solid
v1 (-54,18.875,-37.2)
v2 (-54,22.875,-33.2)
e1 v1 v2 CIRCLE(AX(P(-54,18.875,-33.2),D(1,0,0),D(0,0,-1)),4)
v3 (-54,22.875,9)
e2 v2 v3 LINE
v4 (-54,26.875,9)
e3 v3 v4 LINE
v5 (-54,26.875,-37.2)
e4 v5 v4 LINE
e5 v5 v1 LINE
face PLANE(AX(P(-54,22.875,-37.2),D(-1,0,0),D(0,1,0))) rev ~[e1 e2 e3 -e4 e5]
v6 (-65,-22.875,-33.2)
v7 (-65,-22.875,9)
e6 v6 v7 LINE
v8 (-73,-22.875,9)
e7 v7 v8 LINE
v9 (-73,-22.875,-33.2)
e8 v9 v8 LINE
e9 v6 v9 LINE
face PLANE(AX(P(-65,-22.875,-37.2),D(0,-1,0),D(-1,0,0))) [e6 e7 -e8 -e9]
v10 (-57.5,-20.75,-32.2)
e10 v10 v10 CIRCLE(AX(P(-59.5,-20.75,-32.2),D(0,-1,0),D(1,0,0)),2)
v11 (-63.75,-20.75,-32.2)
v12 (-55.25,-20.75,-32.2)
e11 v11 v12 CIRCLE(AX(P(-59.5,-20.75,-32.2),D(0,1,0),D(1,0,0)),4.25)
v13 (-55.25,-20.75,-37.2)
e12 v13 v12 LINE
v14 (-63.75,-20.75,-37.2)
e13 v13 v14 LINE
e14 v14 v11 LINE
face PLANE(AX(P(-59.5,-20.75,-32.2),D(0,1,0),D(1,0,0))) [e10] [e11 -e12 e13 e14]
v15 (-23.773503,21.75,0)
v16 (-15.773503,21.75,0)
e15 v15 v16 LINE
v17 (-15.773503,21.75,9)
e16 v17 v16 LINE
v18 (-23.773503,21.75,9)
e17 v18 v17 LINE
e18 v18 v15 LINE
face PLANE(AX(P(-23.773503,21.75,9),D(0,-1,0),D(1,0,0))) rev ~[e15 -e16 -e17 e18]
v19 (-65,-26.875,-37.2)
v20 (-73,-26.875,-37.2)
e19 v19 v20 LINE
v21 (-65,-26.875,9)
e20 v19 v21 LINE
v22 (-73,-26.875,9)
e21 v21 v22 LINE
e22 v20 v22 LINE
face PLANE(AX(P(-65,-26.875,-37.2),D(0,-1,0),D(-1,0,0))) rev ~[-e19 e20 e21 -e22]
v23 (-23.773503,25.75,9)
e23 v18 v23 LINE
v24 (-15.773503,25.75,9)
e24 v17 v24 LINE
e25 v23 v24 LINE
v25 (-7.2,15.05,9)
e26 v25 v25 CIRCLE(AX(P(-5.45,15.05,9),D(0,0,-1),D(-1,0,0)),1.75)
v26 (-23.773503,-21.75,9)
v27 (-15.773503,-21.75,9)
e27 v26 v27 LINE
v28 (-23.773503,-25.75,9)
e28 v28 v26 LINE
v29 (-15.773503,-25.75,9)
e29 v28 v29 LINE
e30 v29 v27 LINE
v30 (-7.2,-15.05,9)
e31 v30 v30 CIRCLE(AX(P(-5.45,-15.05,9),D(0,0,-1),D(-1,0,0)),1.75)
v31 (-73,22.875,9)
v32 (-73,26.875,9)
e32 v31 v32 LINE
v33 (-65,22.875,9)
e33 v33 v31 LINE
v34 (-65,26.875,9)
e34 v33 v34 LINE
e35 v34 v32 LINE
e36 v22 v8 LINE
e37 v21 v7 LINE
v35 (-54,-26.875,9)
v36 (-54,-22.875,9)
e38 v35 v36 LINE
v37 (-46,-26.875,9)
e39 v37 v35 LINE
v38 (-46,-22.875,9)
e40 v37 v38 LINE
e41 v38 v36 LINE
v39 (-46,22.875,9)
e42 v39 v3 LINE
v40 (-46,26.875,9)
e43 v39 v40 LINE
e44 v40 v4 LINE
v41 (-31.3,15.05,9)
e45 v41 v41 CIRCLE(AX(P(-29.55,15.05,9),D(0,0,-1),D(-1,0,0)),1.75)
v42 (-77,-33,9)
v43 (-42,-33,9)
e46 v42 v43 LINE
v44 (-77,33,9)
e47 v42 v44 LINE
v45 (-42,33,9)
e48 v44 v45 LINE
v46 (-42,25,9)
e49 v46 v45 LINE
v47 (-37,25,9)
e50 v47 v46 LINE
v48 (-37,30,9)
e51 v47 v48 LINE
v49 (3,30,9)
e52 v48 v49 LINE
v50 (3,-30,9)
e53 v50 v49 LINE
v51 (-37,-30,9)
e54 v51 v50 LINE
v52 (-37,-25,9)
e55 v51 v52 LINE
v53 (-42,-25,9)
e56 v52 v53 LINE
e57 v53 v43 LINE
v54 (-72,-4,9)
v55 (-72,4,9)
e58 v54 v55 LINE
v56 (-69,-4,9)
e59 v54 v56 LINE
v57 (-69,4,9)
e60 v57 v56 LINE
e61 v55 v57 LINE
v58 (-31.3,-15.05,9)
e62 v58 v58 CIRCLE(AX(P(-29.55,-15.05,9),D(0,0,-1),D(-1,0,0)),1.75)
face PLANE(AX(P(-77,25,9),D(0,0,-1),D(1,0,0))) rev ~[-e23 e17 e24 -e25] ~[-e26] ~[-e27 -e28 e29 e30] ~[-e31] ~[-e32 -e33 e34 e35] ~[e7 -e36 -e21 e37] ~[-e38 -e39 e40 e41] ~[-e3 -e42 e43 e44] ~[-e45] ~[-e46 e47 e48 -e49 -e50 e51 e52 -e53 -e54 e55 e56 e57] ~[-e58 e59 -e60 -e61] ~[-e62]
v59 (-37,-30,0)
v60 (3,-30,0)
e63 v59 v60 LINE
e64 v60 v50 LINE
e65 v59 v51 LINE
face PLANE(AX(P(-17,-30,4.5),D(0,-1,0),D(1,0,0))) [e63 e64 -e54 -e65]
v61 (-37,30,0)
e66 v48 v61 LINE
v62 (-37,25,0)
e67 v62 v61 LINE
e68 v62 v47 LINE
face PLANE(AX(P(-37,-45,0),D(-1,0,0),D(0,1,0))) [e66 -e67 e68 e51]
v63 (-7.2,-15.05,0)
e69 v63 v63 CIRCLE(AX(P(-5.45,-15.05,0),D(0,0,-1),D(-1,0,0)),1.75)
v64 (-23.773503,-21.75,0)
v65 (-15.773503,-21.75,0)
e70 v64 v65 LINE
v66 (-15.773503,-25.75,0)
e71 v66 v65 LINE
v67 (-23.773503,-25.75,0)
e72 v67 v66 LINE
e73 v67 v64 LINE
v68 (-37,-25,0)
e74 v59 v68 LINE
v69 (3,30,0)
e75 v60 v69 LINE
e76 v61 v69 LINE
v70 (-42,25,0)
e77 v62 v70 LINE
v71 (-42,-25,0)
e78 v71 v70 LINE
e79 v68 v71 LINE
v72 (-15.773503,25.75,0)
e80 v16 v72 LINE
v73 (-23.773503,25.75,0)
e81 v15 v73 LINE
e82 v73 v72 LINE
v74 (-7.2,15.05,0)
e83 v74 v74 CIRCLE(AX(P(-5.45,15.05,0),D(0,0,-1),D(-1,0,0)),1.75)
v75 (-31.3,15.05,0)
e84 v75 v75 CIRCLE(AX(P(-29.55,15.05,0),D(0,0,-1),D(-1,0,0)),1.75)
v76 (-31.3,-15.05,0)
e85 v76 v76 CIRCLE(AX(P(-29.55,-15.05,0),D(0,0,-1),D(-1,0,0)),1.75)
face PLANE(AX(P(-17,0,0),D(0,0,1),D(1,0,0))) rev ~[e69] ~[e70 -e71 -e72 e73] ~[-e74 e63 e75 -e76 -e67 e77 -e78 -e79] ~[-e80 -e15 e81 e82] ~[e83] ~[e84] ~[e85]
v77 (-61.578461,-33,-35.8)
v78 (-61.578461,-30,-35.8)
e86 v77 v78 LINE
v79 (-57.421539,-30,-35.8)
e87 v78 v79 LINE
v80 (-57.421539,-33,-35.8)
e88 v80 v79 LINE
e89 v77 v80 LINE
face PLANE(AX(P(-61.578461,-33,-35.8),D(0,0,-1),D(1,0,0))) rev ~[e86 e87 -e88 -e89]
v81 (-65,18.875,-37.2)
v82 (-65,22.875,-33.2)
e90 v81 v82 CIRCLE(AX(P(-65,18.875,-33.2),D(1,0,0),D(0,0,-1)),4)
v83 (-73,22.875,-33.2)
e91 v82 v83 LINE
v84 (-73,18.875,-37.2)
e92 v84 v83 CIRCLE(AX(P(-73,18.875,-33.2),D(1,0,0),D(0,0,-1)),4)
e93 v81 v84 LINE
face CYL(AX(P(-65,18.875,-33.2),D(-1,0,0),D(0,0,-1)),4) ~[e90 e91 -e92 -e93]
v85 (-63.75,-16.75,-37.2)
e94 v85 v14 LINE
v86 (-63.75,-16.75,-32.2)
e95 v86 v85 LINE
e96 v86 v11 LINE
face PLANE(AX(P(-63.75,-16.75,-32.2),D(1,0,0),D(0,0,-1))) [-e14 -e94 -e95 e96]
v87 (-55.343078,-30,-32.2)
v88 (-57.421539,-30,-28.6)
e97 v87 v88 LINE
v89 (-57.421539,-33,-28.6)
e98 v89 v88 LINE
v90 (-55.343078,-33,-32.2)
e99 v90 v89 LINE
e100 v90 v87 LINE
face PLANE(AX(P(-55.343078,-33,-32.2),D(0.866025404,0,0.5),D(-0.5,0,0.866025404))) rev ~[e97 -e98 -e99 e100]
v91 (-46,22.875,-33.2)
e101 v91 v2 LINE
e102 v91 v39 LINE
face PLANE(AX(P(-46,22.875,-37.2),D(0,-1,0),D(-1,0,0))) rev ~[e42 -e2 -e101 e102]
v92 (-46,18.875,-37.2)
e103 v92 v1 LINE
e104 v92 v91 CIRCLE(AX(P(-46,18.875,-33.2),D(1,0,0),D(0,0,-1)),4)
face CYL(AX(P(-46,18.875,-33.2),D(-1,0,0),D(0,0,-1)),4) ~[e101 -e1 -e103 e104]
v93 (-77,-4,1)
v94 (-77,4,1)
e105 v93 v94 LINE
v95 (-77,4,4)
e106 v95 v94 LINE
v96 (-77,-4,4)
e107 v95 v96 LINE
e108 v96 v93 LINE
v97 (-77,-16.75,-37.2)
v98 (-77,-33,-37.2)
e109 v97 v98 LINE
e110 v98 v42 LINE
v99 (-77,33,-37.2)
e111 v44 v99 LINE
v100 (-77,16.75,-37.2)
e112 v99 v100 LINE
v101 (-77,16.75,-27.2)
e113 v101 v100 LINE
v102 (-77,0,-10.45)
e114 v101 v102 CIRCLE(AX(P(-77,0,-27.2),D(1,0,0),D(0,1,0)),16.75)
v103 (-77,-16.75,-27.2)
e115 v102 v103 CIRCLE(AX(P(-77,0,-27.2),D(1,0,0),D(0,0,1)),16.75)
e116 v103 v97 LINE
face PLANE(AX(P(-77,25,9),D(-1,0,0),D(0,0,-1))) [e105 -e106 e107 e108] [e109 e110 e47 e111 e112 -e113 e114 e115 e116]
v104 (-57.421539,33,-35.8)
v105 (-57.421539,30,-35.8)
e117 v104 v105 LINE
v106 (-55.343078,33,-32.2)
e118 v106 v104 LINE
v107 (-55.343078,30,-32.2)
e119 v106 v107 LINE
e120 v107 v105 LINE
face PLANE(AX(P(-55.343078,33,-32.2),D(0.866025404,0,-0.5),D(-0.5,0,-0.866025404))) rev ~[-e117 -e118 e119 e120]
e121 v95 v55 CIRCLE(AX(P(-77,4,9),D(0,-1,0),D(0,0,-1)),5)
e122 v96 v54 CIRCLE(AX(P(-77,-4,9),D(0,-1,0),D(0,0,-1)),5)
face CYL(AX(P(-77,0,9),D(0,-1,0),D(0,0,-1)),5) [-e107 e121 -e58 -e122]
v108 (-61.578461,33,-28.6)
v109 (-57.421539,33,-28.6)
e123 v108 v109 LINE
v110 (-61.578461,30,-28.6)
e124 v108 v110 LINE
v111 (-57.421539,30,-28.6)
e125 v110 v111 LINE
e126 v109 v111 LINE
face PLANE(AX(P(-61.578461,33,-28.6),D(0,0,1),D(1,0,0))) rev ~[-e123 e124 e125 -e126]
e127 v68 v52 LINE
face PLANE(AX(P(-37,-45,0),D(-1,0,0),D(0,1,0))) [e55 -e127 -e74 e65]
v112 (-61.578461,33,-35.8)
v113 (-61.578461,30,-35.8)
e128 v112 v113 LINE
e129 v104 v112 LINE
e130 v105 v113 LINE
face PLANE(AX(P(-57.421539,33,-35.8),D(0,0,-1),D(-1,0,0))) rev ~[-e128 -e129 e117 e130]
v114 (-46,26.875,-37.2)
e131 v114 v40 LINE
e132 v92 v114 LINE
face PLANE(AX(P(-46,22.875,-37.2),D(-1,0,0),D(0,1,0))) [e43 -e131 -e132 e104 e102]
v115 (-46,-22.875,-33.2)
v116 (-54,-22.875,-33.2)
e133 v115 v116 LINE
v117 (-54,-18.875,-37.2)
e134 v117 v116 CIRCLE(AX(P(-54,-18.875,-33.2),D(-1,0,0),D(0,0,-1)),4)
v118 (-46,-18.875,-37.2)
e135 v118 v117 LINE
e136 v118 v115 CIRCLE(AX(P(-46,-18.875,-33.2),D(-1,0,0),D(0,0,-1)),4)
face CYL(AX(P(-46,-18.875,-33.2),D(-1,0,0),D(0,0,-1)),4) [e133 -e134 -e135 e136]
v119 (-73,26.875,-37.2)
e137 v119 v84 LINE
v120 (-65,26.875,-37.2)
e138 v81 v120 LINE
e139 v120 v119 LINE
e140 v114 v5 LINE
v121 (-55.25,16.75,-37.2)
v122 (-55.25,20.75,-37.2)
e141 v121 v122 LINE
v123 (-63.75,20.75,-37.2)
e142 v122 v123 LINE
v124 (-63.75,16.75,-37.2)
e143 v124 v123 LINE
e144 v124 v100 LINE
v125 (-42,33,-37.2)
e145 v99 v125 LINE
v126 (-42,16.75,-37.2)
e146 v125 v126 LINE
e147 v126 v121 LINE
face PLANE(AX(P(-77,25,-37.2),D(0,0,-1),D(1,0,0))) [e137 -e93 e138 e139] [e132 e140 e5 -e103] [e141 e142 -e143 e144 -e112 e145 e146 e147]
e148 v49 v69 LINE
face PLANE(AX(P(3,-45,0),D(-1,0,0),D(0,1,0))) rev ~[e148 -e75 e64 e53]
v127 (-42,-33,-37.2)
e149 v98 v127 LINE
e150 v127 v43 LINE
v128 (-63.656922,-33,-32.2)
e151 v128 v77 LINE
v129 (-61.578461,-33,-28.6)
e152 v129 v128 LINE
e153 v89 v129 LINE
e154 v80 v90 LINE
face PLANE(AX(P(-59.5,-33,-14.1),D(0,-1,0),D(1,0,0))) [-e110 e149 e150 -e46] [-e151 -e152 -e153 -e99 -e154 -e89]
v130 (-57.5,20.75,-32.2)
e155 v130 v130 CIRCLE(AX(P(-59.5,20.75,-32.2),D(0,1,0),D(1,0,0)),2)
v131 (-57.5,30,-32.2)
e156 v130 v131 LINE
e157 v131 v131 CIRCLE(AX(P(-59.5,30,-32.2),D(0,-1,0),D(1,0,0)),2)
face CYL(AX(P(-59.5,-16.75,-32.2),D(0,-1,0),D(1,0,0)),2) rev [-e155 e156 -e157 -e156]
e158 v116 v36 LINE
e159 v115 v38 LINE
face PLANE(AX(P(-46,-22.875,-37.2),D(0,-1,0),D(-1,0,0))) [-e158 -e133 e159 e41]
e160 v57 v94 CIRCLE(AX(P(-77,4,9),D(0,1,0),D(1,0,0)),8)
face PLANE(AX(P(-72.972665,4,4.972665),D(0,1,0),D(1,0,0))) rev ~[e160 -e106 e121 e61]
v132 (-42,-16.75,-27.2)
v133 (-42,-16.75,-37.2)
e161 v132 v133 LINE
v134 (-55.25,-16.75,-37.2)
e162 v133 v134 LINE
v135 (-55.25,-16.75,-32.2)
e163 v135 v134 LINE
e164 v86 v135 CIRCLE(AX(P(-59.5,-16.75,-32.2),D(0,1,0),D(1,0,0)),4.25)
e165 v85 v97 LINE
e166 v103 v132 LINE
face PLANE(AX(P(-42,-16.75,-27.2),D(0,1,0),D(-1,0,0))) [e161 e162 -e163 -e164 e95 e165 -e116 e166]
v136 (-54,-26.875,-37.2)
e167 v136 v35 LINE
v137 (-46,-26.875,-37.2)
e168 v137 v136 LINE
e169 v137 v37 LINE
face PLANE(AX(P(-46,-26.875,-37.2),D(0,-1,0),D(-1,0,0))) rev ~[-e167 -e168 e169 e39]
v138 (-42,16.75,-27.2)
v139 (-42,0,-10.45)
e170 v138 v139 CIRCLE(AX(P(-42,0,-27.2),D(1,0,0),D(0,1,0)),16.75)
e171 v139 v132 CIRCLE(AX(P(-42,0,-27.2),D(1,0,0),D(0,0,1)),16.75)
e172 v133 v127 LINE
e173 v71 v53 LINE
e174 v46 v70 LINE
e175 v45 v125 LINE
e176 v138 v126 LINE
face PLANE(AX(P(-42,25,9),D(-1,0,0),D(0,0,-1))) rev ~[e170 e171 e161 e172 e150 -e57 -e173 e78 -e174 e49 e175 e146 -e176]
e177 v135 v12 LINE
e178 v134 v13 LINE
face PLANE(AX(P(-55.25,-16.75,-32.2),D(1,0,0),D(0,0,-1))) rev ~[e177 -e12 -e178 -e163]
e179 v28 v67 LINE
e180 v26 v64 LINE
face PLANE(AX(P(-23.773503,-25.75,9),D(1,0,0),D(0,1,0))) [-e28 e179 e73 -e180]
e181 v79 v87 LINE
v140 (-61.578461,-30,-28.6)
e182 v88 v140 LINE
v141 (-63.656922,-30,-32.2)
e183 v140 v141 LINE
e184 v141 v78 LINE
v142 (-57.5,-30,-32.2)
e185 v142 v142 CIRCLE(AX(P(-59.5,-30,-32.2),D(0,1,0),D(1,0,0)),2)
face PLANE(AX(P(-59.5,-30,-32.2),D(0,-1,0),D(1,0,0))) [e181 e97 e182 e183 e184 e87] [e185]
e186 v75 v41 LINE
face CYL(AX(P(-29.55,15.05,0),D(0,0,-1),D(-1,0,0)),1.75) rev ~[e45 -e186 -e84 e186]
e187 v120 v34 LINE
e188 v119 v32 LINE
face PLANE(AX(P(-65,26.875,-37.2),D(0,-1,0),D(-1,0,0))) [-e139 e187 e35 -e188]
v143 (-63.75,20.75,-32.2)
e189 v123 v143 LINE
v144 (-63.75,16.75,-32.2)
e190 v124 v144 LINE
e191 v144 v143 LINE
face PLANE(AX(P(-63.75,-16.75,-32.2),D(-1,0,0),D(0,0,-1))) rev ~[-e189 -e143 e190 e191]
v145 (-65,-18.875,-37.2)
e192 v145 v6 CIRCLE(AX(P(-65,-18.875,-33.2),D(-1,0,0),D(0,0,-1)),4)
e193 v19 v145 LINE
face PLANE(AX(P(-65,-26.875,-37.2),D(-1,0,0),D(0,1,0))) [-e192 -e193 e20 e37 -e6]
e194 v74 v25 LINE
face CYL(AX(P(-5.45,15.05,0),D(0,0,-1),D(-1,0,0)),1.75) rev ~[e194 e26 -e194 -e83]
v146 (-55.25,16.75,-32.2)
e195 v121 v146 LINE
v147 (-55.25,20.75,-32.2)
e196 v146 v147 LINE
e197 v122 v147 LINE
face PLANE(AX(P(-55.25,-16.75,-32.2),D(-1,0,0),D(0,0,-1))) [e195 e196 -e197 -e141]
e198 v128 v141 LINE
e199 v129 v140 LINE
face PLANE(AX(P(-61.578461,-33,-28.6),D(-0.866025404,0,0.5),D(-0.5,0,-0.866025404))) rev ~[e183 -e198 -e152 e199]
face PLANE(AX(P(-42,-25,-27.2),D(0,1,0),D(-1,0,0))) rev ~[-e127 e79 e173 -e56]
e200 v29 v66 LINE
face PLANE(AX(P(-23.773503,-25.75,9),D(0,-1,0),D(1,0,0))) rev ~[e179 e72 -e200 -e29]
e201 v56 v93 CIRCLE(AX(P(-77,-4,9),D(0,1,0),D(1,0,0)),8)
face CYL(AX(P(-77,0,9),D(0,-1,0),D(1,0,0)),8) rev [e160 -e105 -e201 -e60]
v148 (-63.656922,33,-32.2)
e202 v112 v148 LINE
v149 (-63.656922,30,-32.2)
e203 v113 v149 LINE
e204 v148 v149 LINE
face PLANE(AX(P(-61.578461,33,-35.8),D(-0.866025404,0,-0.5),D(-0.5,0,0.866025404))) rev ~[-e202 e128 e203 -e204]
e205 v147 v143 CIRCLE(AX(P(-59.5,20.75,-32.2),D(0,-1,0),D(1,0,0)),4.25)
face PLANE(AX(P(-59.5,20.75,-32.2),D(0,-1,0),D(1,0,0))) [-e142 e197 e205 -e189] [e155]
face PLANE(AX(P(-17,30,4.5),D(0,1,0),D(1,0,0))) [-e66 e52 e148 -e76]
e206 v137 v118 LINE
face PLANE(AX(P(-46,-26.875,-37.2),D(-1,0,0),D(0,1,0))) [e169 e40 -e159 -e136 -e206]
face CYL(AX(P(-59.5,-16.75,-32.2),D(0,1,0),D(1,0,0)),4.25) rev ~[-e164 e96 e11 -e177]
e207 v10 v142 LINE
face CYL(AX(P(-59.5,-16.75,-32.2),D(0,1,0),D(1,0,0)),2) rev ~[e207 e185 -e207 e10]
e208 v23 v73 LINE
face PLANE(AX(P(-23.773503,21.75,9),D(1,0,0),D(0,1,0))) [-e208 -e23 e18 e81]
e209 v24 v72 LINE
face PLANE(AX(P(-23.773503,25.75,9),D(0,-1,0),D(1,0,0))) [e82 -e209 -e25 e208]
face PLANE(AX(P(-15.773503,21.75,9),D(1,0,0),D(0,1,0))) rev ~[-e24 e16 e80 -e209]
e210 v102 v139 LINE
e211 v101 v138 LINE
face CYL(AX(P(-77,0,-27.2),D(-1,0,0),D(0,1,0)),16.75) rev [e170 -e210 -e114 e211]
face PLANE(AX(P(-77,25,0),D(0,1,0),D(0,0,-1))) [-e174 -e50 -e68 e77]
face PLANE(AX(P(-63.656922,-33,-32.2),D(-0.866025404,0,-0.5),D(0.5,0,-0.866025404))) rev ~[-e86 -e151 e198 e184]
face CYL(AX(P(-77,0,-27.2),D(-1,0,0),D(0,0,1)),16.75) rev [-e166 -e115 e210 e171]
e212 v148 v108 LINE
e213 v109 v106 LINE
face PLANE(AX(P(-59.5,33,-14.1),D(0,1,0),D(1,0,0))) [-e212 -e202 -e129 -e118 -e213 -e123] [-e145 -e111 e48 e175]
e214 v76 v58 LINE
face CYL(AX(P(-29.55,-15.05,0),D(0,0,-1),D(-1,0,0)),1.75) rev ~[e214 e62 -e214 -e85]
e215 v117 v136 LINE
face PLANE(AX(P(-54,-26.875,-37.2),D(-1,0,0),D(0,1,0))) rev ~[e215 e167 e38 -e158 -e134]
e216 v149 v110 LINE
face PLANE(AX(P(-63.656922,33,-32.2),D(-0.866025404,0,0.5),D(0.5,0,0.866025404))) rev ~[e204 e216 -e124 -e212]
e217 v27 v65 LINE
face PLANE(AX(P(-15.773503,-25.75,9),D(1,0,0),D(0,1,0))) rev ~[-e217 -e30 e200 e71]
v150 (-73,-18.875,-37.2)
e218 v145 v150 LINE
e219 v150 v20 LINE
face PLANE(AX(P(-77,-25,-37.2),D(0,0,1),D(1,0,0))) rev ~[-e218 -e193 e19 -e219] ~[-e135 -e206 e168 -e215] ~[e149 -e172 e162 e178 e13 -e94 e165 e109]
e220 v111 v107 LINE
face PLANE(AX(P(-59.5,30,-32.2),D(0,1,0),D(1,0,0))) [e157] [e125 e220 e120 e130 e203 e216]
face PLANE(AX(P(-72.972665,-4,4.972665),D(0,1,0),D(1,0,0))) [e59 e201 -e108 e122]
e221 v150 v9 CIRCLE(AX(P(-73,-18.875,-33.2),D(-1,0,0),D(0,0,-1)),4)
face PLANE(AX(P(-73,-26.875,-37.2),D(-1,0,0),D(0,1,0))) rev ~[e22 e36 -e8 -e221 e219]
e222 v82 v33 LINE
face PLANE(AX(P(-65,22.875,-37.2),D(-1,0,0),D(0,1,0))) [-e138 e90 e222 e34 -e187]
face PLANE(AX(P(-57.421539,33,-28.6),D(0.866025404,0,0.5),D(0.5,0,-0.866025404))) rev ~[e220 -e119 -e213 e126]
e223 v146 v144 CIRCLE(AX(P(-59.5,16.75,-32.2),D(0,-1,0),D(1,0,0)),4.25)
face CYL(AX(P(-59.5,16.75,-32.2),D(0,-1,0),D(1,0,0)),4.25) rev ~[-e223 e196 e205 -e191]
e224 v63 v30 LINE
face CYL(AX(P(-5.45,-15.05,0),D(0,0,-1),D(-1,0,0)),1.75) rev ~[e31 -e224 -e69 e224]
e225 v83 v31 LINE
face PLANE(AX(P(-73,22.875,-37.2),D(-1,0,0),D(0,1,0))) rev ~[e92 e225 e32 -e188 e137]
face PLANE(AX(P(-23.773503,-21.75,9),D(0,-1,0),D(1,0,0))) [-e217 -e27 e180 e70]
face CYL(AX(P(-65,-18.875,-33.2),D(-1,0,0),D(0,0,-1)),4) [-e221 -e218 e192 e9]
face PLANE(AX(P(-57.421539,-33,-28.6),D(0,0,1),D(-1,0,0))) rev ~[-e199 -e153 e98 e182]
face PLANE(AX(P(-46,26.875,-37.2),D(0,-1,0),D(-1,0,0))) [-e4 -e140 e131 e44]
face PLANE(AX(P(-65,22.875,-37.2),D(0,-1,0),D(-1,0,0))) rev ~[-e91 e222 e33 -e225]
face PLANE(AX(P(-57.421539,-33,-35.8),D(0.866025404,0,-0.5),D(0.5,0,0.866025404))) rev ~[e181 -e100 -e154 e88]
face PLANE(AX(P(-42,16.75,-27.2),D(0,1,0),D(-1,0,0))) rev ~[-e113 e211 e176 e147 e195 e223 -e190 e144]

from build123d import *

# Parameters (mm, degrees)
SKETCH1_W                       = 40
SKETCH1_H                       = 90
BOSS_EXTRUDE1_DEPTH             = 9
SKETCH2_W                       = 9
SKETCH2_H                       = 50
BOSS_EXTRUDE2_DEPTH             = 40
BOSS_EXTRUDE3_DEPTH             = 35
SKETCH4_W                       = 35
SKETCH4_H                       = 8.25
BOSS_EXTRUDE4_DEPTH             = 10
SKETCH5_W                       = 35
SKETCH5_H                       = 46.2
BOSS_EXTRUDE5_DEPTH             = 8
SKETCH6_W                       = 35
SKETCH6_H                       = 46.2
BOSS_EXTRUDE6_DEPTH             = 8
SKETCH10_R                      = 2
CUT_EXTRUDE1_DEPTH              = 62.75
CUT_EXTRUDE1_DEPTH_BACK         = 29.25
SKETCH11_R                      = 4.25
CUT_EXTRUDE2_DEPTH              = 4
SKETCH12_R                      = 4.25
CUT_EXTRUDE3_DEPTH              = 4
SKETCH13_W                      = 8
SKETCH13_H                      = 4
CUT_EXTRUDE4_DEPTH              = 47.2
FILLET1_R                       = 4
CUT_EXTRUDE5_DEPTH              = 3
CUT_EXTRUDE6_DEPTH              = 3
SKETCH18_R                      = 1.75
CUT_EXTRUDE7_DEPTH              = 10
SKETCH19_W                      = 40
SKETCH19_H                      = 9
CUT_EXTRUDE8_DEPTH              = 12
SKETCH20_W                      = 40
SKETCH20_H                      = 9
CUT_EXTRUDE9_DEPTH              = 12
CUT_EXTRUDE10_REACH             = 18.25
SKETCH21_W                      = 8.5
SKETCH21_H                      = 5
CUT_EXTRUDE10_DIRECTION_2_REACH = 51.75
SKETCH22_W                      = 8
SKETCH22_H                      = 4
CUT_EXTRUDE11_DEPTH             = 14
CUT_EXTRUDE12_DEPTH             = 4
CUT_EXTRUDE12_DEPTH_BACK        = 4
SKETCH25_W                      = 40
SKETCH25_H                      = 9
CUT_EXTRUDE13_DEPTH             = 3
SKETCH26_W                      = 40
SKETCH26_H                      = 9
CUT_EXTRUDE14_DEPTH             = 3


with BuildPart() as part:
    # Sketch1 → Boss-Extrude1 (new body)
    with BuildSketch(Plane.XY):
        with Locations((-17, 0)):
            Rectangle(SKETCH1_W, SKETCH1_H)
    extrude(amount=BOSS_EXTRUDE1_DEPTH)

    # Sketch2 → Boss-Extrude2 (add)
    with BuildSketch(Plane.ZY.offset(37)):
        with Locations((4.5, 0)):
            Rectangle(SKETCH2_W, SKETCH2_H)
    extrude(amount=BOSS_EXTRUDE2_DEPTH)

    # Sketch3 → Boss-Extrude3 (add)
    with BuildSketch(Plane.ZY.offset(77)):
        with BuildLine():
            Line((0, -25), (0, 25))
            Line((0, 25), (-27.2, 25))
            Line((-27.2, 25), (-27.2, 16.75))
            ThreePointArc((-27.2, 16.75), (-15.355961415, 11.844038585), (-10.45, 0))
            ThreePointArc((-10.45, 0), (-15.355961415, -11.844038585), (-27.2, -16.75))
            Line((-27.2, -16.75), (-27.2, -25))
            Line((-27.2, -25), (0, -25))
        make_face()
    extrude(amount=-BOSS_EXTRUDE3_DEPTH)

    # Sketch4 → Boss-Extrude4 (add)
    with BuildSketch(Plane(origin=(0, 0, -27.2), x_dir=(-1, 0, 0), z_dir=(0, 0, -1))):
        with Locations((59.5, -20.875)):
            Rectangle(SKETCH4_W, SKETCH4_H)
        with Locations((59.5, 20.875)):
            Rectangle(SKETCH4_W, SKETCH4_H)
    extrude(amount=BOSS_EXTRUDE4_DEPTH)

    # Sketch5 → Boss-Extrude5 (add)
    with BuildSketch(Plane.XZ.offset(25)):
        with Locations((-59.5, -14.1)):
            Rectangle(SKETCH5_W, SKETCH5_H)
    extrude(amount=BOSS_EXTRUDE5_DEPTH)

    # Sketch6 → Boss-Extrude6 (add)
    with BuildSketch(Plane(origin=(0, 25, 0), x_dir=(1, 0, 0), z_dir=(0, 1, 0))):
        with Locations((-59.5, 14.1)):
            Rectangle(SKETCH6_W, SKETCH6_H)
    extrude(amount=BOSS_EXTRUDE6_DEPTH)

    # Sketch10 → Cut-Extrude1 (cut, two sides)
    with BuildSketch(Plane(origin=(0, -16.75, 0), x_dir=(1, 0, 0), z_dir=(0, 1, 0))) as cut_extrude1_sk:
        with Locations((-59.5, 32.2)):
            Circle(SKETCH10_R)
    extrude(amount=CUT_EXTRUDE1_DEPTH, mode=Mode.SUBTRACT)
    extrude(cut_extrude1_sk.sketch, amount=-CUT_EXTRUDE1_DEPTH_BACK, mode=Mode.SUBTRACT)

    # Sketch11 → Cut-Extrude2 (cut)
    with BuildSketch(Plane(origin=(0, -16.75, 0), x_dir=(1, 0, 0), z_dir=(0, 1, 0))):
        with Locations((-59.5, 32.2)):
            Circle(SKETCH11_R)
    extrude(amount=-CUT_EXTRUDE2_DEPTH, mode=Mode.SUBTRACT)

    # Sketch12 → Cut-Extrude3 (cut)
    with BuildSketch(Plane.XZ.offset(-16.75)):
        with Locations((-59.5, -32.2)):
            Circle(SKETCH12_R)
    extrude(amount=-CUT_EXTRUDE3_DEPTH, mode=Mode.SUBTRACT)

    # Sketch13 → Cut-Extrude4 (cut, through all)
    with BuildSketch(Plane(origin=(0, 0, -37.2), x_dir=(-1, 0, 0), z_dir=(0, 0, -1))):
        with Locations((50, 24.875)):
            Rectangle(SKETCH13_W, SKETCH13_H)
        with Locations((69, 24.875)):
            Rectangle(SKETCH13_W, SKETCH13_H)
        with Locations((50, -24.875)):
            Rectangle(SKETCH13_W, SKETCH13_H)
        with Locations((69, -24.875)):
            Rectangle(SKETCH13_W, SKETCH13_H)
    extrude(amount=-CUT_EXTRUDE4_DEPTH, mode=Mode.SUBTRACT)

    # Fillet1
    fillet1_edges = [part.edges().sort_by_distance(p)[0] for p in [
        (-69, 22.875, -37.2),
        (-50, -22.875, -37.2),
        (-69, -22.875, -37.2),
        (-50, 22.875, -37.2),
    ]]
    fillet(fillet1_edges, radius=FILLET1_R)

    # Sketch16 → Cut-Extrude5 (cut)
    with BuildSketch(Plane.XZ.offset(33)):
        Polygon((-57.421539031, -28.6), (-61.578460969, -28.6), (-63.656921938, -32.2), (-61.578460969, -35.8), (-57.421539031, -35.8), (-55.343078062, -32.2), align=None)
    extrude(amount=-CUT_EXTRUDE5_DEPTH, mode=Mode.SUBTRACT)

    # Sketch17 → Cut-Extrude6 (cut)
    with BuildSketch(Plane(origin=(0, 33, 0), x_dir=(1, 0, 0), z_dir=(0, 1, 0))):
        Polygon((-61.578460969, 28.6), (-57.421539031, 28.6), (-55.343078062, 32.2), (-57.421539031, 35.8), (-61.578460969, 35.8), (-63.656921938, 32.2), align=None)
    extrude(amount=-CUT_EXTRUDE6_DEPTH, mode=Mode.SUBTRACT)

    # Sketch18 → Cut-Extrude7 (cut)
    with BuildSketch(Plane(origin=(0, 0, 0), x_dir=(-1, 0, 0), z_dir=(0, 0, -1))):
        with Locations((5.45, 15.05)):
            Circle(SKETCH18_R)
        with Locations((5.45, -15.05)):
            Circle(SKETCH18_R)
        with Locations((29.55, -15.05)):
            Circle(SKETCH18_R)
        with Locations((29.55, 15.05)):
            Circle(SKETCH18_R)
    extrude(amount=-CUT_EXTRUDE7_DEPTH, mode=Mode.SUBTRACT)

    # Sketch19 → Cut-Extrude8 (cut)
    with BuildSketch(Plane(origin=(0, 45, 0), x_dir=(1, 0, 0), z_dir=(0, 1, 0))):
        with Locations((-17, -4.5)):
            Rectangle(SKETCH19_W, SKETCH19_H)
    extrude(amount=-CUT_EXTRUDE8_DEPTH, mode=Mode.SUBTRACT)

    # Sketch20 → Cut-Extrude9 (cut)
    with BuildSketch(Plane.XZ.offset(45)):
        with Locations((-17, 4.5)):
            Rectangle(SKETCH20_W, SKETCH20_H)
    extrude(amount=-CUT_EXTRUDE9_DEPTH, mode=Mode.SUBTRACT)

    # Cut-Extrude10: up to this face of the body (flat: up to its plane)
    cut_extrude10_end = Plane(part.part.faces().sort_by_distance((-63.629791847, -20.75, -32.2))[0])
    # Sketch21 → Cut-Extrude10 (cut, up to the picked face)
    with BuildSketch(Plane(origin=(0, -16.75, 0), x_dir=(1, 0, 0), z_dir=(0, 1, 0)), mode=Mode.PRIVATE) as cut_extrude10_sk1:
        with Locations((-59.5, 34.7)):
            Rectangle(SKETCH21_W, SKETCH21_H)
    cut_extrude10_tool1 = split(extrude(cut_extrude10_sk1.sketch, amount=-CUT_EXTRUDE10_REACH, mode=Mode.PRIVATE), bisect_by=cut_extrude10_end, keep=Keep.BOTH, mode=Mode.PRIVATE)
    add(cut_extrude10_tool1.solids().sort_by_distance((-59.5, -16.75, -34.7))[0], mode=Mode.SUBTRACT)

    # Cut-Extrude10 direction 2: up to this face of the body (flat: up to its plane)
    cut_extrude10_direction_2_end = Plane(part.part.faces().sort_by_distance((-63.629791847, 20.75, -32.2))[0])
    # Sketch21 → Cut-Extrude10 direction 2 (cut, up to the picked face)
    with BuildSketch(Plane(origin=(0, -16.75, 0), x_dir=(1, 0, 0), z_dir=(0, 1, 0)), mode=Mode.PRIVATE) as cut_extrude10_direction_2_sk1:
        with Locations((-59.5, 34.7)):
            Rectangle(SKETCH21_W, SKETCH21_H)
    cut_extrude10_direction_2_tool1 = split(extrude(cut_extrude10_direction_2_sk1.sketch, amount=CUT_EXTRUDE10_DIRECTION_2_REACH, mode=Mode.PRIVATE), bisect_by=cut_extrude10_direction_2_end, keep=Keep.BOTH, mode=Mode.PRIVATE)
    add(cut_extrude10_direction_2_tool1.solids().sort_by_distance((-59.5, -16.75, -34.7))[0], mode=Mode.SUBTRACT)

    # Sketch22 → Cut-Extrude11 (cut)
    with BuildSketch(Plane.XY.offset(9)):
        with Locations((-19.773502692, -23.75)):
            Rectangle(SKETCH22_W, SKETCH22_H)
        with Locations((-19.773502692, 23.75)):
            Rectangle(SKETCH22_W, SKETCH22_H)
    extrude(amount=-CUT_EXTRUDE11_DEPTH, mode=Mode.SUBTRACT)

    # Sketch23 → Cut-Extrude12 (cut, two sides)
    with BuildSketch(Plane(origin=(0, 0, 0), x_dir=(1, 0, 0), z_dir=(0, 1, 0))) as cut_extrude12_sk:
        with BuildLine():
            ThreePointArc((-69, -9), (-71.343145751, -3.343145751), (-77, -1))
            Line((-77, -1), (-77, -4))
            ThreePointArc((-77, -4), (-73.464466094, -5.464466094), (-72, -9))
            Line((-72, -9), (-69, -9))
        make_face()
        with BuildLine():
            Line((-77, -4), (-77, -1))
            ThreePointArc((-77, -1), (-82.656854249, -14.656854249), (-69, -9))
            Line((-69, -9), (-72, -9))
            ThreePointArc((-72, -9), (-80.535533906, -12.535533906), (-77, -4))
        make_face()
    extrude(amount=CUT_EXTRUDE12_DEPTH, mode=Mode.SUBTRACT)
    extrude(cut_extrude12_sk.sketch, amount=-CUT_EXTRUDE12_DEPTH_BACK, mode=Mode.SUBTRACT)

    # Sketch25 → Cut-Extrude13 (cut)
    with BuildSketch(Plane(origin=(0, 33, 0), x_dir=(1, 0, 0), z_dir=(0, 1, 0))):
        with Locations((-17, -4.5)):
            Rectangle(SKETCH25_W, SKETCH25_H)
    extrude(amount=-CUT_EXTRUDE13_DEPTH, mode=Mode.SUBTRACT)

    # Sketch26 → Cut-Extrude14 (cut)
    with BuildSketch(Plane.XZ.offset(33)):
        with Locations((-17, 4.5)):
            Rectangle(SKETCH26_W, SKETCH26_H)
    extrude(amount=-CUT_EXTRUDE14_DEPTH, mode=Mode.SUBTRACT)


solid = part.part
